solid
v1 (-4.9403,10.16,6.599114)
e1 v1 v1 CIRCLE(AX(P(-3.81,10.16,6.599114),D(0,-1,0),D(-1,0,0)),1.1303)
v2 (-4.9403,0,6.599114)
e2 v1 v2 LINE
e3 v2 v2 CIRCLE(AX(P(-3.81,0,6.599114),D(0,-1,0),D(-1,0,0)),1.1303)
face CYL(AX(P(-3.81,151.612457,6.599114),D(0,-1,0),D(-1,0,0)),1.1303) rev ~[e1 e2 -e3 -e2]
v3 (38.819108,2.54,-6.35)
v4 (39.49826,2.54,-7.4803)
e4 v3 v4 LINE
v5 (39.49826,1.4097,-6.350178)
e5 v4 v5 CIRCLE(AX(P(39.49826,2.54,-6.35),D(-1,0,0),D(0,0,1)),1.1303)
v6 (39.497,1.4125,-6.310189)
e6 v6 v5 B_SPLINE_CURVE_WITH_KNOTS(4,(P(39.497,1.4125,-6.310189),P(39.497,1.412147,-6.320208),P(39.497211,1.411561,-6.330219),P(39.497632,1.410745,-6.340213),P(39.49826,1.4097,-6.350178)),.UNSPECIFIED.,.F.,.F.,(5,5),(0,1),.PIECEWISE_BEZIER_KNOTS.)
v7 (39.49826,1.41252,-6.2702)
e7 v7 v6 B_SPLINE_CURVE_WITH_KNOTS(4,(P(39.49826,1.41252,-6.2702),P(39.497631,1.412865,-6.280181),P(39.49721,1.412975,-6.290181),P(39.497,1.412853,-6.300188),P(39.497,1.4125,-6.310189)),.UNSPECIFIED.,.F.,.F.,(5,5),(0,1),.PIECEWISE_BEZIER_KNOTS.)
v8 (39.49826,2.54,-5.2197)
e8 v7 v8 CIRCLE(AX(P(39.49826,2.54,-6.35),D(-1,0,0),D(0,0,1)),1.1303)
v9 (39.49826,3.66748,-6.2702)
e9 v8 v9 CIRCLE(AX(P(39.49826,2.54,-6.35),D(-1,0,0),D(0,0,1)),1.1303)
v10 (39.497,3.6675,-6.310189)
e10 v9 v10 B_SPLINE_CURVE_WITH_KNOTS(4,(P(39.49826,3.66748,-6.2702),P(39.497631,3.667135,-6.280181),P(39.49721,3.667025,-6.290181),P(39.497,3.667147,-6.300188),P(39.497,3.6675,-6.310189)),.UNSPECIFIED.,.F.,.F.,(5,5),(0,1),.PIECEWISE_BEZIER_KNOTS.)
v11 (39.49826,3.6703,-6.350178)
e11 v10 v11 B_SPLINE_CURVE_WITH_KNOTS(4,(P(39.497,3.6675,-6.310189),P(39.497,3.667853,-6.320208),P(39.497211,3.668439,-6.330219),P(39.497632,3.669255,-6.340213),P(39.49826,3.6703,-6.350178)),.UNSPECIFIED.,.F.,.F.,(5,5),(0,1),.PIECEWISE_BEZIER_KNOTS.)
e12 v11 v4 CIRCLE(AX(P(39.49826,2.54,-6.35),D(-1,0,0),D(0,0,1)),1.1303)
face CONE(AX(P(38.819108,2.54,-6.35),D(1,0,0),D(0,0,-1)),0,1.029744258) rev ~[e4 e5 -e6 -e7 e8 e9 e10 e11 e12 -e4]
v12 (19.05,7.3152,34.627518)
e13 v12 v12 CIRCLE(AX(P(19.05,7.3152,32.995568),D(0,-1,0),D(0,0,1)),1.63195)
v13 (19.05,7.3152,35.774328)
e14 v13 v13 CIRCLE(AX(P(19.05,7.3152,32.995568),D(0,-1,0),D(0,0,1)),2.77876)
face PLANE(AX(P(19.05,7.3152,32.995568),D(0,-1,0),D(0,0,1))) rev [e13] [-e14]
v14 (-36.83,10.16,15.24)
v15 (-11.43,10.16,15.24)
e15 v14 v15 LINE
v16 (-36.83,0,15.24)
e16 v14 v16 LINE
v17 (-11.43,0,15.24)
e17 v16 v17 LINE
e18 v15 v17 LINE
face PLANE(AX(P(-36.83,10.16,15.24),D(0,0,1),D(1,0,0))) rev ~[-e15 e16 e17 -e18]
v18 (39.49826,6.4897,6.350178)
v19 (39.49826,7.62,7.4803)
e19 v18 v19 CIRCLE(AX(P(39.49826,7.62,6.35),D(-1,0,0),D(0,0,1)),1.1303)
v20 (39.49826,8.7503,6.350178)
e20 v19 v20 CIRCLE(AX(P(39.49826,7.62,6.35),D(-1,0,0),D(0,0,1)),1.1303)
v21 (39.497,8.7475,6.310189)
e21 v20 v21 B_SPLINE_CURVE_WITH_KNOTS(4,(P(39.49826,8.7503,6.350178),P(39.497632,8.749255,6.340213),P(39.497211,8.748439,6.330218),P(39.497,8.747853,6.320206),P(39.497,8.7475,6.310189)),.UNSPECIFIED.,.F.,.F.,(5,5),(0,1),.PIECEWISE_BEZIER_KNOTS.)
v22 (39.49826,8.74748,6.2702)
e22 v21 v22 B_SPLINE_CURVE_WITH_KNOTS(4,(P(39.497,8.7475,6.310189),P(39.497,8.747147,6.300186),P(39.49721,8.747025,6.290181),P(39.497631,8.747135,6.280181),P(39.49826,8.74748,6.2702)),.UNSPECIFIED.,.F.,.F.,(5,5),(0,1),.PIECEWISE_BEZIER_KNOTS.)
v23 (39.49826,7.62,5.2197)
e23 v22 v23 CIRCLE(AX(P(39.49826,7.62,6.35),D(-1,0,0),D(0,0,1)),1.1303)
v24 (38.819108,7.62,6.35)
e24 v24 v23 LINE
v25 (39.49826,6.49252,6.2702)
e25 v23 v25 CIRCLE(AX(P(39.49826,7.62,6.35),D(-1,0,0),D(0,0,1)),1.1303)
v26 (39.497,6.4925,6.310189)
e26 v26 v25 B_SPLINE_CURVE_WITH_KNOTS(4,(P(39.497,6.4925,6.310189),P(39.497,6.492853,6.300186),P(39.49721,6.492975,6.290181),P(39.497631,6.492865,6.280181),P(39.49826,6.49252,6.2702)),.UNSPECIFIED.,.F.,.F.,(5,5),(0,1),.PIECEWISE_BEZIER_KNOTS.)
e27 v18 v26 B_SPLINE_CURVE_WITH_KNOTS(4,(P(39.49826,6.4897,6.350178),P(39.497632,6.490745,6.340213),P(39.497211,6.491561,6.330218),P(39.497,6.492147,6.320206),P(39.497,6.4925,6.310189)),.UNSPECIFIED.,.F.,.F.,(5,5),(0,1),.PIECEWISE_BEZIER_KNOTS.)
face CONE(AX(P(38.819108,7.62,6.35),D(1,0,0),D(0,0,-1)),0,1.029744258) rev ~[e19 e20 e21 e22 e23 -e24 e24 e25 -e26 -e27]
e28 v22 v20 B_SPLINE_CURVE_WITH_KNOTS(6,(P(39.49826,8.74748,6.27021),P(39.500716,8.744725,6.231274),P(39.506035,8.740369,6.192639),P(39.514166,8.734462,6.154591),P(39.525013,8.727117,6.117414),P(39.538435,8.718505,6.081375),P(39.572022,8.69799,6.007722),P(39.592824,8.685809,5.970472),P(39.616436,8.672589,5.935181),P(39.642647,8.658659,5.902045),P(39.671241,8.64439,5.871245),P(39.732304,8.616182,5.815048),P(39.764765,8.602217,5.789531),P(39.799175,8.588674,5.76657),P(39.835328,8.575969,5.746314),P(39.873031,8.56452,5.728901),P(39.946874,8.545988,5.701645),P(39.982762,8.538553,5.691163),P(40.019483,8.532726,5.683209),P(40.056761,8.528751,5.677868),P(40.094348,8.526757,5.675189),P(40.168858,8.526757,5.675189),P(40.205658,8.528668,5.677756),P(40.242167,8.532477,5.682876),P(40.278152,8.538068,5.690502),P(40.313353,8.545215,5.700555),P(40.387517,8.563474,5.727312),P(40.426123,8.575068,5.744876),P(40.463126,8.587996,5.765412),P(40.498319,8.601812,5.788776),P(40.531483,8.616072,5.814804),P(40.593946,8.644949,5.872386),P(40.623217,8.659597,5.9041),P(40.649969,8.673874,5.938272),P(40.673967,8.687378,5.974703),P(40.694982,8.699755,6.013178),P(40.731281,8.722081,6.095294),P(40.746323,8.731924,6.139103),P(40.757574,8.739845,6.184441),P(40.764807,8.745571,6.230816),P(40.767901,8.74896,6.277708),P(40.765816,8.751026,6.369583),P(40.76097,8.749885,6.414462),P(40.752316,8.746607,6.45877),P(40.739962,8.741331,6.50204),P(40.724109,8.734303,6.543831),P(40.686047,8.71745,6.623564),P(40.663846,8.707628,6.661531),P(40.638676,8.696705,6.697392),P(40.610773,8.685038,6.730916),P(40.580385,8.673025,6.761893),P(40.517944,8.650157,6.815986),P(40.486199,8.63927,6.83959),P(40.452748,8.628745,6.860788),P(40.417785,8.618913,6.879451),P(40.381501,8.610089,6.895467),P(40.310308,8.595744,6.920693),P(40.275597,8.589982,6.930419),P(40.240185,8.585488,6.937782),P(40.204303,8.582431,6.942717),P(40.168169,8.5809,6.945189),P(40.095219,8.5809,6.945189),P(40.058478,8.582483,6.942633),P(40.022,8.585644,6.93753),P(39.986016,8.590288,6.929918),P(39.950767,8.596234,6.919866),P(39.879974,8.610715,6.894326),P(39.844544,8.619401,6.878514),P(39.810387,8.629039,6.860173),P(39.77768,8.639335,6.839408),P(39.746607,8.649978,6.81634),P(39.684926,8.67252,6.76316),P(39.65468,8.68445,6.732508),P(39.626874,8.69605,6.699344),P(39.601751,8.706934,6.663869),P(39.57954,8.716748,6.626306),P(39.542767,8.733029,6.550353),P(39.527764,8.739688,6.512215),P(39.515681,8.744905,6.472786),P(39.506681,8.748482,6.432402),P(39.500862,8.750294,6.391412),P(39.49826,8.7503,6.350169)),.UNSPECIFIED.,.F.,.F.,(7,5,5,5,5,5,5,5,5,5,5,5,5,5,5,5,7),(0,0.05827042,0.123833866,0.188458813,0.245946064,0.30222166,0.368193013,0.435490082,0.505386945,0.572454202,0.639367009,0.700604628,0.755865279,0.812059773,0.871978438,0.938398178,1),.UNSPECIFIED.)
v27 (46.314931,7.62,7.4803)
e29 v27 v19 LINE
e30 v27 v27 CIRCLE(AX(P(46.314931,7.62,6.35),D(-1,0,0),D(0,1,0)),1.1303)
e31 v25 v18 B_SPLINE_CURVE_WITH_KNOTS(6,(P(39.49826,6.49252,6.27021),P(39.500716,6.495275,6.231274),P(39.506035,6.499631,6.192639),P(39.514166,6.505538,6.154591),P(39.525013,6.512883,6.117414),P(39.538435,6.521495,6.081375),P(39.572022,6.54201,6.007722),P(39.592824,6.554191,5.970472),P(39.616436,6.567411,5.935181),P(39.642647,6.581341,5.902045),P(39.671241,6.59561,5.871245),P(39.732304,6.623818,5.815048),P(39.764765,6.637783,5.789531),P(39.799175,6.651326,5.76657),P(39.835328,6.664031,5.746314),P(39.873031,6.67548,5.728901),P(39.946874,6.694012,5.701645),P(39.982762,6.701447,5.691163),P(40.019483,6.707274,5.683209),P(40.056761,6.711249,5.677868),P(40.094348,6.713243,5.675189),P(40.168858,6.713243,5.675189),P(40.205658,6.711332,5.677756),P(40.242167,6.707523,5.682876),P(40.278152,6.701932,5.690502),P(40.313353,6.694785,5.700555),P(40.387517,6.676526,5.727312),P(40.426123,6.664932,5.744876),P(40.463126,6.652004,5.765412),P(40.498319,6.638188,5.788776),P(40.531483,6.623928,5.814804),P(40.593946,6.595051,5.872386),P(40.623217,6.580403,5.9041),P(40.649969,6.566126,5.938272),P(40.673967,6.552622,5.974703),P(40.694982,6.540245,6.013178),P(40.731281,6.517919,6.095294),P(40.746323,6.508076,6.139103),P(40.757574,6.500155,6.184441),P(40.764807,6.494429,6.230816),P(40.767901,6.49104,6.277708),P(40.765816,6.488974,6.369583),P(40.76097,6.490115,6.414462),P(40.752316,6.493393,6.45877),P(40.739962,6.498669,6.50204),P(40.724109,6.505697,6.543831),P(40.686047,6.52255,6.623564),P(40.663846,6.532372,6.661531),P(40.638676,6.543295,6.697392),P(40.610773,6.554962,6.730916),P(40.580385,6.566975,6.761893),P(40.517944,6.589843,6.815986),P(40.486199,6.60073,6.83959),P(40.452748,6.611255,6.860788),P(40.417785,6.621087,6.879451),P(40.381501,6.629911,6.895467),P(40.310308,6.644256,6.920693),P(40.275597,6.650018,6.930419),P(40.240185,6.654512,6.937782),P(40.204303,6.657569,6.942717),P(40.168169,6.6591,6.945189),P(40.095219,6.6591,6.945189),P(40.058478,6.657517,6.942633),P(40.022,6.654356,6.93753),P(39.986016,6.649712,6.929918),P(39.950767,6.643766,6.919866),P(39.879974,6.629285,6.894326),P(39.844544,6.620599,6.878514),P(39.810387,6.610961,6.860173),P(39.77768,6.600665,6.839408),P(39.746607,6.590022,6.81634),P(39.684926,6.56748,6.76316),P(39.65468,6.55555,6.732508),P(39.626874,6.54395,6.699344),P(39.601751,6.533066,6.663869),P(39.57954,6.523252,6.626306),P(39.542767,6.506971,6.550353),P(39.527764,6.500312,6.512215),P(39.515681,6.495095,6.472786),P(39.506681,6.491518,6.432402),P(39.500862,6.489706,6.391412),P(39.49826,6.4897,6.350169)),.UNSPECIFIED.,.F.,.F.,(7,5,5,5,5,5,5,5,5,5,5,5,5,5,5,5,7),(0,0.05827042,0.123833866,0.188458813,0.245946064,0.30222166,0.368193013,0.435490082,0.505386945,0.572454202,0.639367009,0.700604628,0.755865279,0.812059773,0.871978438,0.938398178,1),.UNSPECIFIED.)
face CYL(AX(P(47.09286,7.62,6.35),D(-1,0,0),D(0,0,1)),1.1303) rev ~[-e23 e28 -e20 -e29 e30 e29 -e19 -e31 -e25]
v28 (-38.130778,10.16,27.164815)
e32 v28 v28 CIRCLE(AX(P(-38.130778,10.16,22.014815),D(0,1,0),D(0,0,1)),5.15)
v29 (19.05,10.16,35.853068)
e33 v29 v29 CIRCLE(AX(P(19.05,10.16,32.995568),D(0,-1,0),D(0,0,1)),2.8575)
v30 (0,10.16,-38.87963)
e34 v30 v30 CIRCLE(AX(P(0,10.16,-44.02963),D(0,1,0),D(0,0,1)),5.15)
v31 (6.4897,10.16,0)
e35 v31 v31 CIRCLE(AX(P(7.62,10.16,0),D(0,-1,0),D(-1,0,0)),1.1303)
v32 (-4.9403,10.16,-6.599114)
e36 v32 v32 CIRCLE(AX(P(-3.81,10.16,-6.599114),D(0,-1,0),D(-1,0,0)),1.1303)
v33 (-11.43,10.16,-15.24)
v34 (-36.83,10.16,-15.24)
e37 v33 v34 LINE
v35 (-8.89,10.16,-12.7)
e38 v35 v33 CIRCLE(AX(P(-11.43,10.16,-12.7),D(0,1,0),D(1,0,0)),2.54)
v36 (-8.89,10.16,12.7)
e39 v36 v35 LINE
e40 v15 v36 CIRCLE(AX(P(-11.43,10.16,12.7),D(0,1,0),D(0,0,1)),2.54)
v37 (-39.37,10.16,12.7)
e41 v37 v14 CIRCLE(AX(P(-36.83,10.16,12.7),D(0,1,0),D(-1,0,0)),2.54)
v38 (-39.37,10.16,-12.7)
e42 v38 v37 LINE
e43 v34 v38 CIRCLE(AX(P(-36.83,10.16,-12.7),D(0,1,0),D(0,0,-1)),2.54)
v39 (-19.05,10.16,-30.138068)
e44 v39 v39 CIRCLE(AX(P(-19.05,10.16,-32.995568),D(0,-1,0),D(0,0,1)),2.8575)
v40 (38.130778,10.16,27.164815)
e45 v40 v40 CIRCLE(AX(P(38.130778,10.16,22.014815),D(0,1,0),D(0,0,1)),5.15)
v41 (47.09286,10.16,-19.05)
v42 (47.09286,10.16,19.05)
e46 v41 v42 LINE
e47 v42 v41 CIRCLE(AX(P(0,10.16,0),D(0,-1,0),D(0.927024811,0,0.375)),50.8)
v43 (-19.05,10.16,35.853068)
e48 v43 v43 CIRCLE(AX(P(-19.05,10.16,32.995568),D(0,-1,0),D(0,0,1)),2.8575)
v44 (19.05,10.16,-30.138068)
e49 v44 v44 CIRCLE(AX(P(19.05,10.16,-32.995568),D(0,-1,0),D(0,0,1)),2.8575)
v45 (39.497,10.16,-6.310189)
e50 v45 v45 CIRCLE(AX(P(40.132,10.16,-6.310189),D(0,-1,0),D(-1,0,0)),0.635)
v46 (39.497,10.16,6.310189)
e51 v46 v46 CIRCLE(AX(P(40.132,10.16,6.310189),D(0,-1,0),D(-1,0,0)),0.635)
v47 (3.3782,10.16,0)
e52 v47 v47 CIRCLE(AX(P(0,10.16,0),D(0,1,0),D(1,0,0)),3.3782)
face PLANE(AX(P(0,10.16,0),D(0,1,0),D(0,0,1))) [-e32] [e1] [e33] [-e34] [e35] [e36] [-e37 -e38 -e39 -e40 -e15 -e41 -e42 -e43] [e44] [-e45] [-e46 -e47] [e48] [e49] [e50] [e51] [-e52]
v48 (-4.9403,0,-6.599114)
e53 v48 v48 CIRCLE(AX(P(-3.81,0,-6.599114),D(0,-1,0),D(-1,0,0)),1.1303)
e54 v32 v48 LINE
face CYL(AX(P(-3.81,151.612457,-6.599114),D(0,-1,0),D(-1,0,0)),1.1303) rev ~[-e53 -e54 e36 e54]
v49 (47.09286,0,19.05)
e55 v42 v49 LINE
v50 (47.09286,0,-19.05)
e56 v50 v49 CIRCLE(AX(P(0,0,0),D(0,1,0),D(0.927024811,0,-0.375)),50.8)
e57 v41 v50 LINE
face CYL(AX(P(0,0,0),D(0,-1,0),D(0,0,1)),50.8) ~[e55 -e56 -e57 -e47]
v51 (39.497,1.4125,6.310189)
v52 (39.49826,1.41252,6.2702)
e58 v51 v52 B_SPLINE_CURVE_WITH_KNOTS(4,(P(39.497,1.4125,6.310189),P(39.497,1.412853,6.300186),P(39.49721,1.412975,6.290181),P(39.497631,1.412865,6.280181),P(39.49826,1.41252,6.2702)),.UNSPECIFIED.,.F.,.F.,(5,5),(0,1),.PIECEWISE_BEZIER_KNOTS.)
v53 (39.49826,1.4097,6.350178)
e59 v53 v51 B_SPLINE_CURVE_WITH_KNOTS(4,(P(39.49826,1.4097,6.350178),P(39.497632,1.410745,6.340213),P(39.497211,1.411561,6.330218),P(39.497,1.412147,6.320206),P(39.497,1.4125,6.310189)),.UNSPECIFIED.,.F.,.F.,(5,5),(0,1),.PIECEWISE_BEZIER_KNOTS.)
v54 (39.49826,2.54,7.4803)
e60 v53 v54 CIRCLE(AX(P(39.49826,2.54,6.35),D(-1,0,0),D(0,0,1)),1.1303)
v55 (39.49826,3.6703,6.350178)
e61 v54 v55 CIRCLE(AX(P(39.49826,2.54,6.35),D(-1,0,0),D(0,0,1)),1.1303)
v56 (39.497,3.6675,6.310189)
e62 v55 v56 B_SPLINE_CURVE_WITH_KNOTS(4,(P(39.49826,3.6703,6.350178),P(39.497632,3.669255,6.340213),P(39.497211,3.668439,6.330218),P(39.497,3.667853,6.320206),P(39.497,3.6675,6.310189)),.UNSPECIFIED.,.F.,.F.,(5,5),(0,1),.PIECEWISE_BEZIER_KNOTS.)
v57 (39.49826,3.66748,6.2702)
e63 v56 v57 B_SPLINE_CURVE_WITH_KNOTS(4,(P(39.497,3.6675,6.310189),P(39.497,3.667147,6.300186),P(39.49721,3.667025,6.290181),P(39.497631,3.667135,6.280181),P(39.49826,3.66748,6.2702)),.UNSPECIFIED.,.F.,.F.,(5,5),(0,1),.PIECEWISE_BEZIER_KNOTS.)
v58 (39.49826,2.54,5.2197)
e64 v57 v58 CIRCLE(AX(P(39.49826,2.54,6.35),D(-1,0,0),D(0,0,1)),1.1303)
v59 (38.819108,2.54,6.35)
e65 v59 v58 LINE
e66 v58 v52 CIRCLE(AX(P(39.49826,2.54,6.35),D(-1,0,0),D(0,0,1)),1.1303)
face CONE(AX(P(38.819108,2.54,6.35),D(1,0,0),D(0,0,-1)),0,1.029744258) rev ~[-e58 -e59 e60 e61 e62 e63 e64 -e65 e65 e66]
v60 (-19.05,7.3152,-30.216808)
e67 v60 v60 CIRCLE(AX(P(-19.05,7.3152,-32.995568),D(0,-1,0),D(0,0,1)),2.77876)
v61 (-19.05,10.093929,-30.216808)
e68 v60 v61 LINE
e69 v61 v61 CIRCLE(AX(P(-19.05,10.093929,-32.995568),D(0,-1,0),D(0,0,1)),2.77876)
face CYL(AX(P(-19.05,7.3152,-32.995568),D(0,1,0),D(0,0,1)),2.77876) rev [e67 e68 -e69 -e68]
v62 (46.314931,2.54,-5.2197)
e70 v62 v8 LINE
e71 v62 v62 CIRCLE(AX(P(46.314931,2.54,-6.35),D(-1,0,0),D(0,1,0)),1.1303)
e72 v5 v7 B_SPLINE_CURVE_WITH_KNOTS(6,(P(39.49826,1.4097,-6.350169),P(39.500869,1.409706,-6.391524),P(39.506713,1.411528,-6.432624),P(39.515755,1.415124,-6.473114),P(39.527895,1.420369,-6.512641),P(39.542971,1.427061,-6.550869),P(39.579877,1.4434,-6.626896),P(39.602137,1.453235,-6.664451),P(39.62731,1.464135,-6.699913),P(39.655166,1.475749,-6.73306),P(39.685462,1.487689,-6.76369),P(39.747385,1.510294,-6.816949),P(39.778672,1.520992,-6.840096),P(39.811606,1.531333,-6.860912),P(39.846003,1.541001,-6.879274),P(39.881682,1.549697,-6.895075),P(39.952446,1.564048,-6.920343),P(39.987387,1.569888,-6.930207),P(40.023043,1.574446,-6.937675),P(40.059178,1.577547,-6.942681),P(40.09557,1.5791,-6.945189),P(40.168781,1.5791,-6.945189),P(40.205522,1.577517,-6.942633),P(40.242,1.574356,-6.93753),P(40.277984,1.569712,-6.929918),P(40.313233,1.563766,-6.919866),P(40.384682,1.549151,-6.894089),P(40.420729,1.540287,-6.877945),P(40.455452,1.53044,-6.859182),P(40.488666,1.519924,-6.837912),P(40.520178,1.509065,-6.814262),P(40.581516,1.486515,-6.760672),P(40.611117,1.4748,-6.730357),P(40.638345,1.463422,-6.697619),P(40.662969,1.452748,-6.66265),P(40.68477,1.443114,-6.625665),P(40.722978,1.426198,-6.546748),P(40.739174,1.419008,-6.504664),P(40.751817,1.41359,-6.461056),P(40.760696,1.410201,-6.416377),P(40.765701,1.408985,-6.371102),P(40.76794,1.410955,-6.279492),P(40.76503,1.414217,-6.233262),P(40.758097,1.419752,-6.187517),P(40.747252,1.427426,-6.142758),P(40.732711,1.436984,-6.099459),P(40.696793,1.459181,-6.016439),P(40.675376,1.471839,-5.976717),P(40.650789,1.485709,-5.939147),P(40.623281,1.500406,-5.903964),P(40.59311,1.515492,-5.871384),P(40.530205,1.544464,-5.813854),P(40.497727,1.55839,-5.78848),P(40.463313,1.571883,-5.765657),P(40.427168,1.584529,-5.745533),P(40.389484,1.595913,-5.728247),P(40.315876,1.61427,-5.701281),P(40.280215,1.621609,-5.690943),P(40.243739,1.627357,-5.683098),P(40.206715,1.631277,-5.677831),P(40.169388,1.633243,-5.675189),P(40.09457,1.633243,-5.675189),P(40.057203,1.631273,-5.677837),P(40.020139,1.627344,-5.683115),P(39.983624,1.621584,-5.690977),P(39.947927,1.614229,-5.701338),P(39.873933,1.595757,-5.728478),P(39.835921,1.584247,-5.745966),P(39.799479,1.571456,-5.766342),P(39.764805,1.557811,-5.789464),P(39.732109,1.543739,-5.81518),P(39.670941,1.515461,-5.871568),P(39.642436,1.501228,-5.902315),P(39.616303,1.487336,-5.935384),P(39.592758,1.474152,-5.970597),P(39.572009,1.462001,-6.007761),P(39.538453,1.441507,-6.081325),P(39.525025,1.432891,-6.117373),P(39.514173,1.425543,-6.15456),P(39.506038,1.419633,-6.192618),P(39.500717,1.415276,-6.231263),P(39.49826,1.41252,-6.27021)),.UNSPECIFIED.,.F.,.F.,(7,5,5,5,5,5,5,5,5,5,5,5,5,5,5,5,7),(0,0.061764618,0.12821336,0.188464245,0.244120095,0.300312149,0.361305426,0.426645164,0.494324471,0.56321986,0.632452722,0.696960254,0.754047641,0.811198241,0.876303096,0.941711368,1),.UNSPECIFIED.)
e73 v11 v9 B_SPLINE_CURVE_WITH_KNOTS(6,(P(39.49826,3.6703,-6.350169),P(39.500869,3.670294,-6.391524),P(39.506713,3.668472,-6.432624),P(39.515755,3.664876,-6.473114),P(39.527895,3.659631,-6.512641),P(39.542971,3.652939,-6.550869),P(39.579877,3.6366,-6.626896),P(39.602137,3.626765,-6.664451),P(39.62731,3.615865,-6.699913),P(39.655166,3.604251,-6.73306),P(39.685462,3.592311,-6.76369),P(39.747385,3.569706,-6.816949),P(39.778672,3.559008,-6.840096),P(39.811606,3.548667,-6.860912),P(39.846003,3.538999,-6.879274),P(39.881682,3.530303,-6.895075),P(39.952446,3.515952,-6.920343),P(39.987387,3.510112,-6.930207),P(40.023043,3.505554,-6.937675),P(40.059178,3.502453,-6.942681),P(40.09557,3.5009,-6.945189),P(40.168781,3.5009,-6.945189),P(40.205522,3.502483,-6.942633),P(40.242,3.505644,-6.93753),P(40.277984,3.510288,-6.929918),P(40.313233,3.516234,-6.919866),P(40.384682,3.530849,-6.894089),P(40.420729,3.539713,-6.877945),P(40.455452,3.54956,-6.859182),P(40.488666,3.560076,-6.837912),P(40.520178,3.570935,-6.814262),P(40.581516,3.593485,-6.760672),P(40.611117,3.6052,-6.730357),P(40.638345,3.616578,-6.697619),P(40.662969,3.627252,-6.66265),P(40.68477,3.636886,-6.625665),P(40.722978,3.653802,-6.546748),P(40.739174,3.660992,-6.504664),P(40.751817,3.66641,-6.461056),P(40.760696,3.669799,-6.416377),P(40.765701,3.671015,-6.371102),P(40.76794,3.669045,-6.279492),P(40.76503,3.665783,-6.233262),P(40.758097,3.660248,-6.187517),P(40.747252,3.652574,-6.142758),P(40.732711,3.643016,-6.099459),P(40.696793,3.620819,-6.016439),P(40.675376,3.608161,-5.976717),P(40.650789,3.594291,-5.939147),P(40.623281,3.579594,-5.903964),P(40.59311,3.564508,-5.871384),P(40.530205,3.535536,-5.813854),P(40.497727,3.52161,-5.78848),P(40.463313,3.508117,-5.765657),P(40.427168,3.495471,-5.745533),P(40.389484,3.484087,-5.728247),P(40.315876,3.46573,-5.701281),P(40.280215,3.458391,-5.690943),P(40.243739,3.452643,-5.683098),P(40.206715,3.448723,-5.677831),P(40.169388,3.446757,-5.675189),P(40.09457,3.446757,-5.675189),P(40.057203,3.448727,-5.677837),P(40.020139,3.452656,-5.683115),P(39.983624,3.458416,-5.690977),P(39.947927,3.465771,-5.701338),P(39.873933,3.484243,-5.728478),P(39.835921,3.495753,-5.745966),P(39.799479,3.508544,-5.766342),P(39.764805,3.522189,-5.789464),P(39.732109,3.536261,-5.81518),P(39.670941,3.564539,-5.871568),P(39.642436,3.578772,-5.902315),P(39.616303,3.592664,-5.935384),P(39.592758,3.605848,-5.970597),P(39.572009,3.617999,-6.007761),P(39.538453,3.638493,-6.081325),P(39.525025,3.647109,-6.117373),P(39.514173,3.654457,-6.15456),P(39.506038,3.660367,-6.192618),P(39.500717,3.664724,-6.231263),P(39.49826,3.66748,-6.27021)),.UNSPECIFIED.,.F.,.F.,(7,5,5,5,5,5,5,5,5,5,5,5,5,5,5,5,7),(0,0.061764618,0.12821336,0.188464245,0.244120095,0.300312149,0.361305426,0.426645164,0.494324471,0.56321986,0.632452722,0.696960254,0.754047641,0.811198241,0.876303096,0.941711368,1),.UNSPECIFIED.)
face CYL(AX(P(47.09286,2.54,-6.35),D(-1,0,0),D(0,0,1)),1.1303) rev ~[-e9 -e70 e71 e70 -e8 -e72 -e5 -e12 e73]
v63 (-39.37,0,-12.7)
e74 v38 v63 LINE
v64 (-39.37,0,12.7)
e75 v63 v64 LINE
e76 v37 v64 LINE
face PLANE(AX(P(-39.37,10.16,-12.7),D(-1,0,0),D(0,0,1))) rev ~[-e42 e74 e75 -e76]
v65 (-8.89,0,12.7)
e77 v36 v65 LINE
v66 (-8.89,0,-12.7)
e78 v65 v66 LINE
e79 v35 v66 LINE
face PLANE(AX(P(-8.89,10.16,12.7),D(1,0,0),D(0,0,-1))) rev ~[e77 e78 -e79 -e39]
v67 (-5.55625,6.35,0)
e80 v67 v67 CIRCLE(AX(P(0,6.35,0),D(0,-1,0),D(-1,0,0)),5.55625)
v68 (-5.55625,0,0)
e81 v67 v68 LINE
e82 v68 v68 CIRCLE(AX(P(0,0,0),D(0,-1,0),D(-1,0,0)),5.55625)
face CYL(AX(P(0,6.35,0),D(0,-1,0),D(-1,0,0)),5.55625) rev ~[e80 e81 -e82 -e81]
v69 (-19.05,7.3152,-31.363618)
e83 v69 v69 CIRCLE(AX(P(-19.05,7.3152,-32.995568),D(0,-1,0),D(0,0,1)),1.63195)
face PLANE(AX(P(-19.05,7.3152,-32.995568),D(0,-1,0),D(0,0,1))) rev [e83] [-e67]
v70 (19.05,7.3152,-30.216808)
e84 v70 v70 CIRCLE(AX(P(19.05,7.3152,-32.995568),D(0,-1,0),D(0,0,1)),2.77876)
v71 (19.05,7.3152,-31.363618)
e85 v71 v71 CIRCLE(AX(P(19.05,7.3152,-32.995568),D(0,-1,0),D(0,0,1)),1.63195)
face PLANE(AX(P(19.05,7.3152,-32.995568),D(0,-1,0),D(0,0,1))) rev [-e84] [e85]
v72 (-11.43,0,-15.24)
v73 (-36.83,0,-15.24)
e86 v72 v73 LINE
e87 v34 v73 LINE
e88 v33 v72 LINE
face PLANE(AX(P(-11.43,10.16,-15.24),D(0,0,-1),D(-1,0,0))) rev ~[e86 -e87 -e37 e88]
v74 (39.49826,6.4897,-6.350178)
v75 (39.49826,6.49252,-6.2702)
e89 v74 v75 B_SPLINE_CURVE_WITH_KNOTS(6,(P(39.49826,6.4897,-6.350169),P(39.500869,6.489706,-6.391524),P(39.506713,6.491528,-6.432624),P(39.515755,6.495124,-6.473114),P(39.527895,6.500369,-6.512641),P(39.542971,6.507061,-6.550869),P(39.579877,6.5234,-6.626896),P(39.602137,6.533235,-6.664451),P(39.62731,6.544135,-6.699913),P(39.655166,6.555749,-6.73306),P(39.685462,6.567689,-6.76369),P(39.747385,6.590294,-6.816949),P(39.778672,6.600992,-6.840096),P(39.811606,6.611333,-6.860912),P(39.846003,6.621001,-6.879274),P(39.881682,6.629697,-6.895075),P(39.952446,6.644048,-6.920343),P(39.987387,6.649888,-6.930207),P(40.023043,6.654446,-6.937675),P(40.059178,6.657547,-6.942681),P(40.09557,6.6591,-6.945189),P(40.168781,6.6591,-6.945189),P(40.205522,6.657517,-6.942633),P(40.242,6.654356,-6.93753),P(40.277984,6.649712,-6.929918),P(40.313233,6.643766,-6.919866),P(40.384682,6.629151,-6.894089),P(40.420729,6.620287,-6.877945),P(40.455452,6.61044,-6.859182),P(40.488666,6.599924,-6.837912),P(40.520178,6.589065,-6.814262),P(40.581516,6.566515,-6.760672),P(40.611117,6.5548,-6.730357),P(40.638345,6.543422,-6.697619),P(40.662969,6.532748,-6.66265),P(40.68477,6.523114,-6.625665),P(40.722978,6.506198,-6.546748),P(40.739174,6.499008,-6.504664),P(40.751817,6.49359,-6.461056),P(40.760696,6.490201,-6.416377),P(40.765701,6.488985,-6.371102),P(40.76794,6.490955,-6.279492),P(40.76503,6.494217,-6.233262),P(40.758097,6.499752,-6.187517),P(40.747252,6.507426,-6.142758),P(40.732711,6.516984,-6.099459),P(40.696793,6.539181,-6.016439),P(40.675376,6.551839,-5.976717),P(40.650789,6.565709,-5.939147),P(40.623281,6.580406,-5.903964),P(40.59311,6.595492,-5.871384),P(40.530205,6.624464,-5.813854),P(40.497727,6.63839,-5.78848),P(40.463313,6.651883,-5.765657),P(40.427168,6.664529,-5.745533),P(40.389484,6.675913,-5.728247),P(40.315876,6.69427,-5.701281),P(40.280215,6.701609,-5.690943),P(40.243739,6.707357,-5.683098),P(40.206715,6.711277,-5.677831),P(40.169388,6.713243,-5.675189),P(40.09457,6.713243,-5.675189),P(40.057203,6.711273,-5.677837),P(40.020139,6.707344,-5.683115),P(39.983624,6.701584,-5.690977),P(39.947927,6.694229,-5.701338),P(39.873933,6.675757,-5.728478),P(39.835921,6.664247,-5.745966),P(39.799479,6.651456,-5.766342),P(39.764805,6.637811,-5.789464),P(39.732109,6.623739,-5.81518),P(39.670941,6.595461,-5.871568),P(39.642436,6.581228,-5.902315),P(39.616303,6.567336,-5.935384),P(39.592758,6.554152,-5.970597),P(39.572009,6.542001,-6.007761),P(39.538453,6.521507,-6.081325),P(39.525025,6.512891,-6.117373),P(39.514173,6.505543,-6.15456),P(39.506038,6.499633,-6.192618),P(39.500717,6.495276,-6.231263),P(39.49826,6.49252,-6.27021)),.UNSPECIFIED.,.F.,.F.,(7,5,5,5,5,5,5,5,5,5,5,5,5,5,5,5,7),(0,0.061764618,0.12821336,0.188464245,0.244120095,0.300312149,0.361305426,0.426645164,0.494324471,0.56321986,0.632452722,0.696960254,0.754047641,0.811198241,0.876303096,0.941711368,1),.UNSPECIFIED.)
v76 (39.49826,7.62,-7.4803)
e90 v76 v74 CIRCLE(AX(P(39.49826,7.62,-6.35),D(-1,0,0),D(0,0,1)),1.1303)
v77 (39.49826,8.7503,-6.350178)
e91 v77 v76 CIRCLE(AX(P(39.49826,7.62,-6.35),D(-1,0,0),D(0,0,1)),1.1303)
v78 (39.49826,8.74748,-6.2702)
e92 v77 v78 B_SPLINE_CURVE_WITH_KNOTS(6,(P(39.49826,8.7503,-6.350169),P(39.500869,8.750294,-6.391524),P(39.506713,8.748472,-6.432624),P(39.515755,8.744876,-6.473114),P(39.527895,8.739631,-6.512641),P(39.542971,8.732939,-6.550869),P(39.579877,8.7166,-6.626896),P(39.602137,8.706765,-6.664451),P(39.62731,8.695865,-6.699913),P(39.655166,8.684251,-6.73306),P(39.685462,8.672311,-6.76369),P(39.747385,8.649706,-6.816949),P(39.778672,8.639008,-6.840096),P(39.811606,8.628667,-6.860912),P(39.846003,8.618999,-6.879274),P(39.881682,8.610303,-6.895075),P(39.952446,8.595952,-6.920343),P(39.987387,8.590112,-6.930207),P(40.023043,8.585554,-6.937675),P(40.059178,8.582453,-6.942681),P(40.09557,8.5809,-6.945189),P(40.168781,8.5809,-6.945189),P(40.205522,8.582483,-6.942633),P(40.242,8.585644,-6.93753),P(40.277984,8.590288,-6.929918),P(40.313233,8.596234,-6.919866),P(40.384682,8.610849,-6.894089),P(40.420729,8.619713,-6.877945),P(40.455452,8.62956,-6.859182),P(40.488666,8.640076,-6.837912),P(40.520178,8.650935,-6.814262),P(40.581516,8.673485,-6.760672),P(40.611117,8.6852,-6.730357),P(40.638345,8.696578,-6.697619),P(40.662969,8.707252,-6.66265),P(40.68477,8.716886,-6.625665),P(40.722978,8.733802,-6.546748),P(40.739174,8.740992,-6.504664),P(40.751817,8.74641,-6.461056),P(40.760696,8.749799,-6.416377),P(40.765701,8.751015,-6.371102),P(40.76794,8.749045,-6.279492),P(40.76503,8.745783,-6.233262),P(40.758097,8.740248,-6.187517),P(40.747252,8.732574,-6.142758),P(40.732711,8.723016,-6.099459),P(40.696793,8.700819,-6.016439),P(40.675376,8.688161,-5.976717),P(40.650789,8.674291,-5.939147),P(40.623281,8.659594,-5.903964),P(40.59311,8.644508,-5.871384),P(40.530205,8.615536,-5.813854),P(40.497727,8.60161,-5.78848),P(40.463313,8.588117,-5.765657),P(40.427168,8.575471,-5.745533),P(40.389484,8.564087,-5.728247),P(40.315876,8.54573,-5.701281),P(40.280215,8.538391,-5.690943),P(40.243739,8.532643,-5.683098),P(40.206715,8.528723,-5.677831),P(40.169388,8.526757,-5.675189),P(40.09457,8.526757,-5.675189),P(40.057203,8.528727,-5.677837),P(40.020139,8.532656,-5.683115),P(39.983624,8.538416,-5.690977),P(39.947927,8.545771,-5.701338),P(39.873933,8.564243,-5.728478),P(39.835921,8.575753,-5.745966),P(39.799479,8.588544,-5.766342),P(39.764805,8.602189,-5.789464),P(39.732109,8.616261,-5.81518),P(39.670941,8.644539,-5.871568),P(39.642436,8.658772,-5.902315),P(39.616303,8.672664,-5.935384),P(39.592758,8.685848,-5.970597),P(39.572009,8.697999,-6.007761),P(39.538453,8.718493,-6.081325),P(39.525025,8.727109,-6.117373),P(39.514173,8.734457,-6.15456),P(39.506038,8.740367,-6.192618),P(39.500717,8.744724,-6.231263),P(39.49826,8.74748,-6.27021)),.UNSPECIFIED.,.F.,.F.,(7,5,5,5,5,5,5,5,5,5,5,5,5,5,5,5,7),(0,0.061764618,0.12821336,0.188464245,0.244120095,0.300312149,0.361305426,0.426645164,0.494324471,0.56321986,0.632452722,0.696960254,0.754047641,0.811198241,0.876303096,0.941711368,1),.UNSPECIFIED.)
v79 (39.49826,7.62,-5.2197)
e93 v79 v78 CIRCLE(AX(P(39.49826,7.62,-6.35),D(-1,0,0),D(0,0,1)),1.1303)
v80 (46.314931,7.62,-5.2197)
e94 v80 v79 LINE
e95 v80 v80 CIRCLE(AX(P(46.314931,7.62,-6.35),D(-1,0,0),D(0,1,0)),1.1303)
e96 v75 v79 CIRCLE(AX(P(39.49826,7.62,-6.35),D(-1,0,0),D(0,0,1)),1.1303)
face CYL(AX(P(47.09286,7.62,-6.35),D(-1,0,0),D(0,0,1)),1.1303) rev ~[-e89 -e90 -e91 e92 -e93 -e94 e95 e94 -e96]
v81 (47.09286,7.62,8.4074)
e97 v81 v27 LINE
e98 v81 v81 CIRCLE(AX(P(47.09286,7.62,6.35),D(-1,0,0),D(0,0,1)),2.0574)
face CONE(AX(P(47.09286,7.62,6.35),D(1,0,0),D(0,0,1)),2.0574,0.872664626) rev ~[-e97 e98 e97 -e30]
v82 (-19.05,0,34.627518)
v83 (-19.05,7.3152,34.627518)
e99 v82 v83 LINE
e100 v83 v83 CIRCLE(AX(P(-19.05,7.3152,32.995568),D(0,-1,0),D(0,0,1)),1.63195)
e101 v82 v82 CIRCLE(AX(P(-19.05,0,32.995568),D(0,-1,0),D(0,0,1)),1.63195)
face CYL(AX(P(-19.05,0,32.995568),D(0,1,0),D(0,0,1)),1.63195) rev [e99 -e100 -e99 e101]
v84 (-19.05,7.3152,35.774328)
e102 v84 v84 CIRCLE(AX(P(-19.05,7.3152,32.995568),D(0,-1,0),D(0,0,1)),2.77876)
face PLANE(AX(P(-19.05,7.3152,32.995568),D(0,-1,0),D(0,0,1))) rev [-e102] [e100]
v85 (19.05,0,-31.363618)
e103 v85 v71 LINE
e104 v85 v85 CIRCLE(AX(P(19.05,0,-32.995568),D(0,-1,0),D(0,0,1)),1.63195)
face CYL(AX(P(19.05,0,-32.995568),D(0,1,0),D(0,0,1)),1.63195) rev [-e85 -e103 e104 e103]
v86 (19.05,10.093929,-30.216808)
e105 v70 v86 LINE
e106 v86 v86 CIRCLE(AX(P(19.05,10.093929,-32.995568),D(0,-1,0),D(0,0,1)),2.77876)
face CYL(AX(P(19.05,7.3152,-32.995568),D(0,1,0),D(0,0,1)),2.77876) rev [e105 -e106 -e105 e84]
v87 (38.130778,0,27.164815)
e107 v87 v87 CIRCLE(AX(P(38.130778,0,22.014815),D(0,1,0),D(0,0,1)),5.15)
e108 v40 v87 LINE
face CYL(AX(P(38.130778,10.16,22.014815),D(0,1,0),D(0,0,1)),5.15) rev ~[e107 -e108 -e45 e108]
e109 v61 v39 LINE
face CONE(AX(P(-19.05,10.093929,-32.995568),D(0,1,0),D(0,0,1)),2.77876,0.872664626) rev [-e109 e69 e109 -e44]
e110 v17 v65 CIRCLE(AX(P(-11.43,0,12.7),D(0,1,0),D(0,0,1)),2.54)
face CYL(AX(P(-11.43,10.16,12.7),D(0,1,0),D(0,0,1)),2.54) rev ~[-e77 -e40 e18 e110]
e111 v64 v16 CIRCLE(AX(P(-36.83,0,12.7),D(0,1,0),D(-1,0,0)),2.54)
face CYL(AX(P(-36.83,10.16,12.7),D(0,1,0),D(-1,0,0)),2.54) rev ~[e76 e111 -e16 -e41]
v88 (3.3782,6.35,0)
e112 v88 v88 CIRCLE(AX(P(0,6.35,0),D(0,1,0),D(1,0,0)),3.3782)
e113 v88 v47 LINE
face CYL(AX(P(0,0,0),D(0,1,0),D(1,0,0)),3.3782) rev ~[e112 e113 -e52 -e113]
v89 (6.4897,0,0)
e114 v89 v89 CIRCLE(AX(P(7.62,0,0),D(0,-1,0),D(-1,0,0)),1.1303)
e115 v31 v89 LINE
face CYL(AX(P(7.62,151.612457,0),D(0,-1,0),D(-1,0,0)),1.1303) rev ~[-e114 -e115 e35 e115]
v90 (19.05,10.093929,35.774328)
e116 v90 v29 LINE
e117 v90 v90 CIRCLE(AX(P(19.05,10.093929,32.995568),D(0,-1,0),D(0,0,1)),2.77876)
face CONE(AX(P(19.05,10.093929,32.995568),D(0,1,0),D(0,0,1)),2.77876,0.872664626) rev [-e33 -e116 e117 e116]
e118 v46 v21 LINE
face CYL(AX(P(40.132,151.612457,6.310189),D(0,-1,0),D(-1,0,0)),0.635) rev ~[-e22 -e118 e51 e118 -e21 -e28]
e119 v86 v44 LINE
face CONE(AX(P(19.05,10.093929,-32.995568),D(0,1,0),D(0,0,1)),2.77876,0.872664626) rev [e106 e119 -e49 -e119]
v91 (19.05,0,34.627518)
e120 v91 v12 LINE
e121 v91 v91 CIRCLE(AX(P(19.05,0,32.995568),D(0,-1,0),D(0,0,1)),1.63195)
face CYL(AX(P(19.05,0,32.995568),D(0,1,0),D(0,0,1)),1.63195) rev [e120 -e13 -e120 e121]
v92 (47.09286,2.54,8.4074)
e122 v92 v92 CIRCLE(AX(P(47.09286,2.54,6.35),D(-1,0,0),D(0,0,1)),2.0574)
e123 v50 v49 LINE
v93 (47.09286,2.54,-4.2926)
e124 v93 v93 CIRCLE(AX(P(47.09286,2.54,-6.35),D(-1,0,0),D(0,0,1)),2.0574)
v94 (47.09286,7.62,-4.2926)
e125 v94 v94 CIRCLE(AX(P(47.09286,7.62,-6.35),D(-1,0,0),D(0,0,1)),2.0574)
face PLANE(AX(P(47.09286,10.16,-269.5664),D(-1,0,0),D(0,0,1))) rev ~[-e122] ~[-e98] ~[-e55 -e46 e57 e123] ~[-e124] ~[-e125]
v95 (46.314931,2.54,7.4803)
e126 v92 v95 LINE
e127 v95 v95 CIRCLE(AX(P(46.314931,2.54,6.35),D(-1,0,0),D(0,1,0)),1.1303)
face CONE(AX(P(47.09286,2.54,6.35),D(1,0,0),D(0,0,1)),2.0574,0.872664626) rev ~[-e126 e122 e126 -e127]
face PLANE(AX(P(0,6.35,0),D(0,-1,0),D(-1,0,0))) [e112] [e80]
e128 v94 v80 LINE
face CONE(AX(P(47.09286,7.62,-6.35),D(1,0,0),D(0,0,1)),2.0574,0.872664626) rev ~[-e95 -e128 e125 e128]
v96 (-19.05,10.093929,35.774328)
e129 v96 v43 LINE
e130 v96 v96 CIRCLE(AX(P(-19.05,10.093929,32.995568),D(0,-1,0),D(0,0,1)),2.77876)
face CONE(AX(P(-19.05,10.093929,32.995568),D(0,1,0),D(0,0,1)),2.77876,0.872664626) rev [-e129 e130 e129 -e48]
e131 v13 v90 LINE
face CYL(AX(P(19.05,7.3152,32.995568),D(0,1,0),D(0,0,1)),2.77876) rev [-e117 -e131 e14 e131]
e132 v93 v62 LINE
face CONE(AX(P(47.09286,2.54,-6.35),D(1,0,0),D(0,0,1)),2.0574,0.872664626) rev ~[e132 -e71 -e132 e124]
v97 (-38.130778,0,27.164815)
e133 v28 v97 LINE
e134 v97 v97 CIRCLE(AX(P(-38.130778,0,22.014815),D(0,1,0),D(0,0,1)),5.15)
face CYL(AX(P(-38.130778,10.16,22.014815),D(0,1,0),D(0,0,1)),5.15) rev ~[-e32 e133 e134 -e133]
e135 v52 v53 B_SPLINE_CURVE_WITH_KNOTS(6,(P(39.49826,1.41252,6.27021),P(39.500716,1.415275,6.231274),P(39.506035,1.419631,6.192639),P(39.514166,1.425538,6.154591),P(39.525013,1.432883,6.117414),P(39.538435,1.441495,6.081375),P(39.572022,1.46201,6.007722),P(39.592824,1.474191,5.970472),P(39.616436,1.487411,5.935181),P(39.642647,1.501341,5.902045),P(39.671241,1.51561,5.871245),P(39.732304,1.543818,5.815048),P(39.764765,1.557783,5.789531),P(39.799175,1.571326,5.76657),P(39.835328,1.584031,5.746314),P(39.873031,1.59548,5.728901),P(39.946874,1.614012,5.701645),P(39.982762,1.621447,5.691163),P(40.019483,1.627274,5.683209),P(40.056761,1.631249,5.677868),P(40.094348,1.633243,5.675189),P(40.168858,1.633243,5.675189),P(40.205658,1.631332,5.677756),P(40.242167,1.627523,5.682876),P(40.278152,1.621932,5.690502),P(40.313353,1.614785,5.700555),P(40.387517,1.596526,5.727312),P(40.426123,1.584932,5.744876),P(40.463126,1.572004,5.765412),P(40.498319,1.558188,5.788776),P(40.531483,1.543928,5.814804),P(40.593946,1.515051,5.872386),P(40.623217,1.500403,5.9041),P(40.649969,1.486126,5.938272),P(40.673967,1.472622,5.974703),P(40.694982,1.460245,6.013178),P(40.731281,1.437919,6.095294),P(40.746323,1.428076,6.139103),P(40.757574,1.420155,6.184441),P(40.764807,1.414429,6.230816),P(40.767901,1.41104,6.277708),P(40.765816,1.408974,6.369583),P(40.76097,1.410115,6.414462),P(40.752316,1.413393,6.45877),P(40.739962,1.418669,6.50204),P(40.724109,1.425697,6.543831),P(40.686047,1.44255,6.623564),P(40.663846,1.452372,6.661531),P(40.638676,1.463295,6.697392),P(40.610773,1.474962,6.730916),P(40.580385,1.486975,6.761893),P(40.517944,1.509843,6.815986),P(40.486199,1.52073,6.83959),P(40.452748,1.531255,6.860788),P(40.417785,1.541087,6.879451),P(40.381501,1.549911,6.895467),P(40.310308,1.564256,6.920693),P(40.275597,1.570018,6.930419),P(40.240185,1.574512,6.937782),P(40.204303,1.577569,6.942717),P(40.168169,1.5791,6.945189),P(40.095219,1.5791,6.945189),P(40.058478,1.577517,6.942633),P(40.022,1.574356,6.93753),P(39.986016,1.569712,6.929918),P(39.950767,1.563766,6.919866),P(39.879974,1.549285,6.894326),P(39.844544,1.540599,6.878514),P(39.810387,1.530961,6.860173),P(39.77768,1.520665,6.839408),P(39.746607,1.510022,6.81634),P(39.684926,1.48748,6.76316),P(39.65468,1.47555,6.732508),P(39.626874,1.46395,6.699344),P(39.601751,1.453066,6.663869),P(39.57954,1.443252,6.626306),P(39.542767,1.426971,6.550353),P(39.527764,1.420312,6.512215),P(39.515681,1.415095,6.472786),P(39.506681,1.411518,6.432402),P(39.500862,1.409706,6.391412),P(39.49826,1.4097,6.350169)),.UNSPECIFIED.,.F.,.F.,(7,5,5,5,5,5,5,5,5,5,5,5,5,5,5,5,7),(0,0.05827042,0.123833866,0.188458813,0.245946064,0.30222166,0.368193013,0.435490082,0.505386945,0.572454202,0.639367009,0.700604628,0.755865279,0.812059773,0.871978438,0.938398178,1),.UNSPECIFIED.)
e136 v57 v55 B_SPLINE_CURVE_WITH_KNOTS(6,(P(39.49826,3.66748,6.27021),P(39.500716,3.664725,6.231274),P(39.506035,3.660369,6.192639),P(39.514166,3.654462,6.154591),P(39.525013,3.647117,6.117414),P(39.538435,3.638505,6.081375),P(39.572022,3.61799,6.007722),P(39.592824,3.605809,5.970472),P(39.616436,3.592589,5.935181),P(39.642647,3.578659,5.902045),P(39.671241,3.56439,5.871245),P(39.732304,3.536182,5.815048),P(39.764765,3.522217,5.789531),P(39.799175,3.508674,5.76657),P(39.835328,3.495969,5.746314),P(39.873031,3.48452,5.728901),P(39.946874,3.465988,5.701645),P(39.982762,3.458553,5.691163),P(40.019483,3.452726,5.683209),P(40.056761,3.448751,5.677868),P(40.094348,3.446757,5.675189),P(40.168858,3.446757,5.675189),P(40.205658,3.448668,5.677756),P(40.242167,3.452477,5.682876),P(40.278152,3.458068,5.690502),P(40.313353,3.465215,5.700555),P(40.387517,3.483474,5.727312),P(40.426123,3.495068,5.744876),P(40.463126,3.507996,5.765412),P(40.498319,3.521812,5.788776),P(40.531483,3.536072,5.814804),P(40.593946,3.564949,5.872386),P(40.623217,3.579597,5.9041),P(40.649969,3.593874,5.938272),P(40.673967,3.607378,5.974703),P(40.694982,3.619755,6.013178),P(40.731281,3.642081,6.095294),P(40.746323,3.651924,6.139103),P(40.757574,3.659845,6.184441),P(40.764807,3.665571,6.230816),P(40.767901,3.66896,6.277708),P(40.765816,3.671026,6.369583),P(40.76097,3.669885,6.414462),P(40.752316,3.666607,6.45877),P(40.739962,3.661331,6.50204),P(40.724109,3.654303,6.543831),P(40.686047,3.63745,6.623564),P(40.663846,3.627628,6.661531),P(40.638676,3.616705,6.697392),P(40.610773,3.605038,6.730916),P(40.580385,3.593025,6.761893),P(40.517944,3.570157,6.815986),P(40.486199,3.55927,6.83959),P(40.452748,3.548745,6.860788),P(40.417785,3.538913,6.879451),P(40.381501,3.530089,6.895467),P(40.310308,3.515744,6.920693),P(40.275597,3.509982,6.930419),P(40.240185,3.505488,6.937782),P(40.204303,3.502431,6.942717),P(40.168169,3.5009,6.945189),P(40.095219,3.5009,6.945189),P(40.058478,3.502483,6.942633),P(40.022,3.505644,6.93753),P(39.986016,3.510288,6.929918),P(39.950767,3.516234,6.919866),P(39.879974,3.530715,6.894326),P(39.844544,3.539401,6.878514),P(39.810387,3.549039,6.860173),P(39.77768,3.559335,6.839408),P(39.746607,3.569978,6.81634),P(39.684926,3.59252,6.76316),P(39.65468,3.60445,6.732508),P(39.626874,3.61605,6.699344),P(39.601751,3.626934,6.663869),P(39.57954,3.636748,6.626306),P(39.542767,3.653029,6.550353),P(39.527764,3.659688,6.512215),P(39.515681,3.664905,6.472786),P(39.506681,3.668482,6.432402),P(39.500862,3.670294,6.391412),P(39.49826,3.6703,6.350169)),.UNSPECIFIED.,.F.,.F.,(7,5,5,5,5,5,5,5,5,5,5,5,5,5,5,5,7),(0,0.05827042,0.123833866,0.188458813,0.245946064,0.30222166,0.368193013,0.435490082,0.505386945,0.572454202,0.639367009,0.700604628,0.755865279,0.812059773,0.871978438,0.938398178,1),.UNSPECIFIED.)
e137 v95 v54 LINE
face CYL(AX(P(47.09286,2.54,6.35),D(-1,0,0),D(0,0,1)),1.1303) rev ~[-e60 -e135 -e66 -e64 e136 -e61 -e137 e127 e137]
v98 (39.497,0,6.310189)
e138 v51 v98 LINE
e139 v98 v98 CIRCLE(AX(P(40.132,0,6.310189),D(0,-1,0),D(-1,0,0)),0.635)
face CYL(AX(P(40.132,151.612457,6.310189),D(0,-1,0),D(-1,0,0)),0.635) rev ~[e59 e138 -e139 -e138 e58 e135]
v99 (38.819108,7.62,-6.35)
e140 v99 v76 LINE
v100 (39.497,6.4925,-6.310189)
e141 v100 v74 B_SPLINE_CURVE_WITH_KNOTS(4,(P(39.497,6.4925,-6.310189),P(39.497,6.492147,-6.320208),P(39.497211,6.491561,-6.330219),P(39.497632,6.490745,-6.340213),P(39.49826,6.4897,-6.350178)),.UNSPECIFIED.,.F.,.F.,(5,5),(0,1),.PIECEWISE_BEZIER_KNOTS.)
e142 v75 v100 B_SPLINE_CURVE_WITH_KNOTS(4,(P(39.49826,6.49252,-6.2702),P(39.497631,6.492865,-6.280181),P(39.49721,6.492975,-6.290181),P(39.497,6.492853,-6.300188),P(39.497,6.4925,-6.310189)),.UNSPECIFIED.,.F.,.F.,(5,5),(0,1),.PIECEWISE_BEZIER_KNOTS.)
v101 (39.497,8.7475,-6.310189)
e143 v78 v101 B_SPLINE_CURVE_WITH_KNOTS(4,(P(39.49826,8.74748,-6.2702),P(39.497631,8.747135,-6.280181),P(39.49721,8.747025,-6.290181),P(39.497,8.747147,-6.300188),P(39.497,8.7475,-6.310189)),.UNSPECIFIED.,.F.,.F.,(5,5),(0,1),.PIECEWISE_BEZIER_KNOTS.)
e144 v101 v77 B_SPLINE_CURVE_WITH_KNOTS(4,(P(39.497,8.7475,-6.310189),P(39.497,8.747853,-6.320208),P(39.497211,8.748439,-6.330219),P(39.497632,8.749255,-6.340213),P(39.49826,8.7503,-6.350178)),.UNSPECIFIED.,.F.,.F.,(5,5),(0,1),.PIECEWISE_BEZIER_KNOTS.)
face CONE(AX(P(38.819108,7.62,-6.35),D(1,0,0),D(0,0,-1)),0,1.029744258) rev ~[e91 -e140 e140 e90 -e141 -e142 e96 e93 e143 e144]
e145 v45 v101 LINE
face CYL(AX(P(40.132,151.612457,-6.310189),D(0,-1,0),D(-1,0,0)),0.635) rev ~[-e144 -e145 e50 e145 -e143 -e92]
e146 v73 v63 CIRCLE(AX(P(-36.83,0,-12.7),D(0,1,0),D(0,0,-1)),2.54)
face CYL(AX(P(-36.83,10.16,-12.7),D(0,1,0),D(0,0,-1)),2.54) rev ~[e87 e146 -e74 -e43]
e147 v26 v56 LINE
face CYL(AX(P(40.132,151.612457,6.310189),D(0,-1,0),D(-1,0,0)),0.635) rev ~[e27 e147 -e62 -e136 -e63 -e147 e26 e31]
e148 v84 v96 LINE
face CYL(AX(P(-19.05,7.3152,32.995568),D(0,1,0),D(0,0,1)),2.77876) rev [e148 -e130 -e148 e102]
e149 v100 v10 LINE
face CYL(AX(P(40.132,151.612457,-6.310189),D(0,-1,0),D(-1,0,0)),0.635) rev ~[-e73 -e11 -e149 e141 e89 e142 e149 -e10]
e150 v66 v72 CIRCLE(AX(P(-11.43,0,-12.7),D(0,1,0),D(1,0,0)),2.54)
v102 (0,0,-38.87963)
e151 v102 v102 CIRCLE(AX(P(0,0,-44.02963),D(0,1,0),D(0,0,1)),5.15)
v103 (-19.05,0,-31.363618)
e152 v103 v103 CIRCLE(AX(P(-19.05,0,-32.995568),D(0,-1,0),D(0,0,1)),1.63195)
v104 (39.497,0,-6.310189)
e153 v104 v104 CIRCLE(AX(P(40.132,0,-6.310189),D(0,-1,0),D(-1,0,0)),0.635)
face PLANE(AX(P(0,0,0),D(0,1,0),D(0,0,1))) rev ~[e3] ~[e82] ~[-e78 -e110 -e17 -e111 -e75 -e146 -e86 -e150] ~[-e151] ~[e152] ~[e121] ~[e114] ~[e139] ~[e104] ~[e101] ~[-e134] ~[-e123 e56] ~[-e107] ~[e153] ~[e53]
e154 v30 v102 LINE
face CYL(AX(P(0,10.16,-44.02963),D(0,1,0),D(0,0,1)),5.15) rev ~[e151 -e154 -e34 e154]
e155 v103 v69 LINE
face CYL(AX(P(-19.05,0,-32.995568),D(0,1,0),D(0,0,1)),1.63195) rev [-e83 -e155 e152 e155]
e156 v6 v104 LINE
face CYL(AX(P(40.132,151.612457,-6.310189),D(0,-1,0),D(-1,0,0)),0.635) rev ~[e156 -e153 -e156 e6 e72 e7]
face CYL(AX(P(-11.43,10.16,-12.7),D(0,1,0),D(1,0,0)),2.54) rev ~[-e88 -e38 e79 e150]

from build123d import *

# Parameters (mm, degrees)
SKETCH1_R                                        = 50.8
BOSS_EXTRUDE1_DEPTH                              = 10.16
SKETCH2_R                                        = 5.15
CUT_EXTRUDE1_DEPTH                               = 11.16
CUT_EXTRUDE10_DEPTH                              = 1
CUT_EXTRUDE10_DEPTH_BACK                         = 11.16
CBORE_FOR_4_SOCKET_HEAD_CAP_SCREW1_AT_2_COUNT    = 2
CBORE_FOR_4_SOCKET_HEAD_CAP_SCREW1_AT_2_PITCH    = 65.991135768
CBORE_FOR_4_SOCKET_HEAD_CAP_SCREW1_AT_3_COUNT    = 2
CBORE_FOR_4_SOCKET_HEAD_CAP_SCREW1_AT_3_PITCH    = 76.2
CBORE_FOR_4_SOCKET_HEAD_CAP_SCREW1_AT_4_COUNT    = 2
CBORE_FOR_4_SOCKET_HEAD_CAP_SCREW1_AT_4_PITCH    = 38.1
CUT_EXTRUDE9_DEPTH                               = 11.16
F_4_40_TAPPED_HOLE1_D                            = 2.2606
CBORE_FOR_1_4_SOCKET_HEAD_CAP_SCREW1_D           = 6.7564
CBORE_FOR_1_4_SOCKET_HEAD_CAP_SCREW1_CBORE_D     = 11.1125
CBORE_FOR_1_4_SOCKET_HEAD_CAP_SCREW1_CBORE_DEPTH = 6.35
F_97_0_0059_DIAMETER_HOLE1_D                     = 1.27
F_4_40_TAPPED_HOLE2_D                            = 2.2606
F_4_40_TAPPED_HOLE2_DEPTH                        = 7.5946
F_4_40_TAPPED_HOLE2_CSINK_D                      = 4.1148
F_4_40_TAPPED_HOLE2_CSINK_ANGLE                  = 100
F_4_40_TAPPED_HOLE2_TIP                          = 0.679152758


with BuildPart() as part:
    # Sketch1 → Boss-Extrude1 (new body)
    with BuildSketch(Plane(origin=(0, 0, 0), x_dir=(1, 0, 0), z_dir=(0, 1, 0))):
        with Locations(Location((0, 0, 0), (0, 0, 270))):  # turned: the seam where the file's is
            Circle(SKETCH1_R)
    extrude(amount=BOSS_EXTRUDE1_DEPTH)

    # Sketch2 → Cut-Extrude1 (cut, through all)
    with BuildSketch(Plane(origin=(0, 10.16, 0), x_dir=(1, 0, 0), z_dir=(0, 1, 0))):
        with Locations(Location((0, 44.02963, 0), (0, 0, 270))):  # turned: the seam where the file's is
            Circle(SKETCH2_R)
        with Locations(Location((38.130778099, -22.014815, 0), (0, 0, 270))):  # turned: the seam where the file's is
            Circle(SKETCH2_R)
        with Locations(Location((-38.130778099, -22.014815, 0), (0, 0, 270))):  # turned: the seam where the file's is
            Circle(SKETCH2_R)
    extrude(amount=-CUT_EXTRUDE1_DEPTH, mode=Mode.SUBTRACT)

    # Sketch46 → Cut-Extrude10 (cut, two sides)
    with BuildSketch(Plane(origin=(0, 10.16, 0), x_dir=(1, 0, 0), z_dir=(0, 1, 0))) as cut_extrude10_sk:
        Polygon((47.092860393, 269.566399573), (47.092860393, 19.05), (47.092860393, -19.05), (47.092860393, -269.566399573), (548.12565954, -269.566399573), (548.12565954, 269.566399573), align=None)
    extrude(amount=CUT_EXTRUDE10_DEPTH, mode=Mode.SUBTRACT)
    extrude(cut_extrude10_sk.sketch, amount=-CUT_EXTRUDE10_DEPTH_BACK, mode=Mode.SUBTRACT)

    # Sketch38 → CBORE for #4 Socket Head Cap Screw1 (revolve, cut)
    with BuildSketch(Plane(origin=(19.05, 10.16, -32.995567884), x_dir=(0, 0, 1), z_dir=(1, 0, 0))):
        Polygon((0, 0), (0, 10.16), (1.63195, 10.16), (1.63195, 2.8448), (2.77876, 2.8448), (2.77876, 0.066070705), (2.8575, 0), align=None)
    cbore_for_4_socket_head_cap_screw1 = revolve(axis=Axis((19.05, 16.51, -32.995567884), (0, -1, 0)), mode=Mode.SUBTRACT)

    # CBORE for #4 Socket Head Cap Screw1 at 2: CBORE for #4 Socket Head Cap Screw1 ×2
    with Locations(*[(0, 0, i * CBORE_FOR_4_SOCKET_HEAD_CAP_SCREW1_AT_2_PITCH) for i in range(1, CBORE_FOR_4_SOCKET_HEAD_CAP_SCREW1_AT_2_COUNT)]):
        add(cbore_for_4_socket_head_cap_screw1, mode=Mode.SUBTRACT)

    # CBORE for #4 Socket Head Cap Screw1 at 3: CBORE for #4 Socket Head Cap Screw1 ×2
    with Locations(*[Vector(-0.5, 0, 0.866025404) * (i * CBORE_FOR_4_SOCKET_HEAD_CAP_SCREW1_AT_3_PITCH) for i in range(1, CBORE_FOR_4_SOCKET_HEAD_CAP_SCREW1_AT_3_COUNT)]):
        add(cbore_for_4_socket_head_cap_screw1, mode=Mode.SUBTRACT)

    # CBORE for #4 Socket Head Cap Screw1 at 4: CBORE for #4 Socket Head Cap Screw1 ×2
    with Locations(*[(-i * CBORE_FOR_4_SOCKET_HEAD_CAP_SCREW1_AT_4_PITCH, 0, 0) for i in range(1, CBORE_FOR_4_SOCKET_HEAD_CAP_SCREW1_AT_4_COUNT)]):
        add(cbore_for_4_socket_head_cap_screw1, mode=Mode.SUBTRACT)

    # Sketch39 → Cut-Extrude9 (cut, through all)
    with BuildSketch(Plane(origin=(0, 10.16, 0), x_dir=(1, 0, 0), z_dir=(0, 1, 0))):
        with BuildLine():
            Line((-39.37, 12.7), (-39.37, -12.7))
            ThreePointArc((-39.37, -12.7), (-38.626051224, -14.496051224), (-36.83, -15.24))
            Line((-36.83, -15.24), (-11.43, -15.24))
            ThreePointArc((-11.43, -15.24), (-9.633948776, -14.496051224), (-8.89, -12.7))
            Line((-8.89, -12.7), (-8.89, 12.7))
            ThreePointArc((-8.89, 12.7), (-9.633948776, 14.496051224), (-11.43, 15.24))
            Line((-11.43, 15.24), (-36.83, 15.24))
            ThreePointArc((-36.83, 15.24), (-38.626051224, 14.496051224), (-39.37, 12.7))
        make_face()
    extrude(amount=-CUT_EXTRUDE9_DEPTH, mode=Mode.SUBTRACT)

    # #4-40 Tapped Hole1 (through all)
    with Locations(Plane(origin=(0, 10.16, 0), x_dir=(1, 0, 0), z_dir=(0, 1, 0))):
        with Locations((7.62, 0), (-3.81, -6.599113577), (-3.81, 6.599113577)):
            Hole(F_4_40_TAPPED_HOLE1_D / 2)

    # CBORE for 1/4 Socket Head Cap Screw1 (through all)
    with Locations(Plane(origin=(0, 0, 0), x_dir=(-1, 0, 0), z_dir=(0, -1, 0))):
        with Locations((0, 0)):
            CounterBoreHole(CBORE_FOR_1_4_SOCKET_HEAD_CAP_SCREW1_D / 2, CBORE_FOR_1_4_SOCKET_HEAD_CAP_SCREW1_CBORE_D / 2, CBORE_FOR_1_4_SOCKET_HEAD_CAP_SCREW1_CBORE_DEPTH)

    # #97 (0.0059) Diameter Hole1 (through all)
    with Locations(Plane(origin=(0, 10.16, 0), x_dir=(1, 0, 0), z_dir=(0, 1, 0))):
        with Locations((40.132, 6.310189161), (40.132, -6.310189161)):
            Hole(F_97_0_0059_DIAMETER_HOLE1_D / 2)

    # #4-40 Tapped Hole2
    with Locations(Plane(origin=(47.092860393, 0, 0), x_dir=(0, 0, -1), z_dir=(1, 0, 0))):
        with Locations((-6.35, 7.62), (-6.35, 2.54), (6.35, 7.62), (6.35, 2.54)):
            CounterSinkHole(F_4_40_TAPPED_HOLE2_D / 2, F_4_40_TAPPED_HOLE2_CSINK_D / 2, depth=F_4_40_TAPPED_HOLE2_DEPTH, counter_sink_angle=F_4_40_TAPPED_HOLE2_CSINK_ANGLE)
            with Locations((0, 0, -(F_4_40_TAPPED_HOLE2_DEPTH + F_4_40_TAPPED_HOLE2_TIP / 2))):  # 118° drill point
                Cone(0, F_4_40_TAPPED_HOLE2_D / 2, F_4_40_TAPPED_HOLE2_TIP, mode=Mode.SUBTRACT)


solid = part.part
